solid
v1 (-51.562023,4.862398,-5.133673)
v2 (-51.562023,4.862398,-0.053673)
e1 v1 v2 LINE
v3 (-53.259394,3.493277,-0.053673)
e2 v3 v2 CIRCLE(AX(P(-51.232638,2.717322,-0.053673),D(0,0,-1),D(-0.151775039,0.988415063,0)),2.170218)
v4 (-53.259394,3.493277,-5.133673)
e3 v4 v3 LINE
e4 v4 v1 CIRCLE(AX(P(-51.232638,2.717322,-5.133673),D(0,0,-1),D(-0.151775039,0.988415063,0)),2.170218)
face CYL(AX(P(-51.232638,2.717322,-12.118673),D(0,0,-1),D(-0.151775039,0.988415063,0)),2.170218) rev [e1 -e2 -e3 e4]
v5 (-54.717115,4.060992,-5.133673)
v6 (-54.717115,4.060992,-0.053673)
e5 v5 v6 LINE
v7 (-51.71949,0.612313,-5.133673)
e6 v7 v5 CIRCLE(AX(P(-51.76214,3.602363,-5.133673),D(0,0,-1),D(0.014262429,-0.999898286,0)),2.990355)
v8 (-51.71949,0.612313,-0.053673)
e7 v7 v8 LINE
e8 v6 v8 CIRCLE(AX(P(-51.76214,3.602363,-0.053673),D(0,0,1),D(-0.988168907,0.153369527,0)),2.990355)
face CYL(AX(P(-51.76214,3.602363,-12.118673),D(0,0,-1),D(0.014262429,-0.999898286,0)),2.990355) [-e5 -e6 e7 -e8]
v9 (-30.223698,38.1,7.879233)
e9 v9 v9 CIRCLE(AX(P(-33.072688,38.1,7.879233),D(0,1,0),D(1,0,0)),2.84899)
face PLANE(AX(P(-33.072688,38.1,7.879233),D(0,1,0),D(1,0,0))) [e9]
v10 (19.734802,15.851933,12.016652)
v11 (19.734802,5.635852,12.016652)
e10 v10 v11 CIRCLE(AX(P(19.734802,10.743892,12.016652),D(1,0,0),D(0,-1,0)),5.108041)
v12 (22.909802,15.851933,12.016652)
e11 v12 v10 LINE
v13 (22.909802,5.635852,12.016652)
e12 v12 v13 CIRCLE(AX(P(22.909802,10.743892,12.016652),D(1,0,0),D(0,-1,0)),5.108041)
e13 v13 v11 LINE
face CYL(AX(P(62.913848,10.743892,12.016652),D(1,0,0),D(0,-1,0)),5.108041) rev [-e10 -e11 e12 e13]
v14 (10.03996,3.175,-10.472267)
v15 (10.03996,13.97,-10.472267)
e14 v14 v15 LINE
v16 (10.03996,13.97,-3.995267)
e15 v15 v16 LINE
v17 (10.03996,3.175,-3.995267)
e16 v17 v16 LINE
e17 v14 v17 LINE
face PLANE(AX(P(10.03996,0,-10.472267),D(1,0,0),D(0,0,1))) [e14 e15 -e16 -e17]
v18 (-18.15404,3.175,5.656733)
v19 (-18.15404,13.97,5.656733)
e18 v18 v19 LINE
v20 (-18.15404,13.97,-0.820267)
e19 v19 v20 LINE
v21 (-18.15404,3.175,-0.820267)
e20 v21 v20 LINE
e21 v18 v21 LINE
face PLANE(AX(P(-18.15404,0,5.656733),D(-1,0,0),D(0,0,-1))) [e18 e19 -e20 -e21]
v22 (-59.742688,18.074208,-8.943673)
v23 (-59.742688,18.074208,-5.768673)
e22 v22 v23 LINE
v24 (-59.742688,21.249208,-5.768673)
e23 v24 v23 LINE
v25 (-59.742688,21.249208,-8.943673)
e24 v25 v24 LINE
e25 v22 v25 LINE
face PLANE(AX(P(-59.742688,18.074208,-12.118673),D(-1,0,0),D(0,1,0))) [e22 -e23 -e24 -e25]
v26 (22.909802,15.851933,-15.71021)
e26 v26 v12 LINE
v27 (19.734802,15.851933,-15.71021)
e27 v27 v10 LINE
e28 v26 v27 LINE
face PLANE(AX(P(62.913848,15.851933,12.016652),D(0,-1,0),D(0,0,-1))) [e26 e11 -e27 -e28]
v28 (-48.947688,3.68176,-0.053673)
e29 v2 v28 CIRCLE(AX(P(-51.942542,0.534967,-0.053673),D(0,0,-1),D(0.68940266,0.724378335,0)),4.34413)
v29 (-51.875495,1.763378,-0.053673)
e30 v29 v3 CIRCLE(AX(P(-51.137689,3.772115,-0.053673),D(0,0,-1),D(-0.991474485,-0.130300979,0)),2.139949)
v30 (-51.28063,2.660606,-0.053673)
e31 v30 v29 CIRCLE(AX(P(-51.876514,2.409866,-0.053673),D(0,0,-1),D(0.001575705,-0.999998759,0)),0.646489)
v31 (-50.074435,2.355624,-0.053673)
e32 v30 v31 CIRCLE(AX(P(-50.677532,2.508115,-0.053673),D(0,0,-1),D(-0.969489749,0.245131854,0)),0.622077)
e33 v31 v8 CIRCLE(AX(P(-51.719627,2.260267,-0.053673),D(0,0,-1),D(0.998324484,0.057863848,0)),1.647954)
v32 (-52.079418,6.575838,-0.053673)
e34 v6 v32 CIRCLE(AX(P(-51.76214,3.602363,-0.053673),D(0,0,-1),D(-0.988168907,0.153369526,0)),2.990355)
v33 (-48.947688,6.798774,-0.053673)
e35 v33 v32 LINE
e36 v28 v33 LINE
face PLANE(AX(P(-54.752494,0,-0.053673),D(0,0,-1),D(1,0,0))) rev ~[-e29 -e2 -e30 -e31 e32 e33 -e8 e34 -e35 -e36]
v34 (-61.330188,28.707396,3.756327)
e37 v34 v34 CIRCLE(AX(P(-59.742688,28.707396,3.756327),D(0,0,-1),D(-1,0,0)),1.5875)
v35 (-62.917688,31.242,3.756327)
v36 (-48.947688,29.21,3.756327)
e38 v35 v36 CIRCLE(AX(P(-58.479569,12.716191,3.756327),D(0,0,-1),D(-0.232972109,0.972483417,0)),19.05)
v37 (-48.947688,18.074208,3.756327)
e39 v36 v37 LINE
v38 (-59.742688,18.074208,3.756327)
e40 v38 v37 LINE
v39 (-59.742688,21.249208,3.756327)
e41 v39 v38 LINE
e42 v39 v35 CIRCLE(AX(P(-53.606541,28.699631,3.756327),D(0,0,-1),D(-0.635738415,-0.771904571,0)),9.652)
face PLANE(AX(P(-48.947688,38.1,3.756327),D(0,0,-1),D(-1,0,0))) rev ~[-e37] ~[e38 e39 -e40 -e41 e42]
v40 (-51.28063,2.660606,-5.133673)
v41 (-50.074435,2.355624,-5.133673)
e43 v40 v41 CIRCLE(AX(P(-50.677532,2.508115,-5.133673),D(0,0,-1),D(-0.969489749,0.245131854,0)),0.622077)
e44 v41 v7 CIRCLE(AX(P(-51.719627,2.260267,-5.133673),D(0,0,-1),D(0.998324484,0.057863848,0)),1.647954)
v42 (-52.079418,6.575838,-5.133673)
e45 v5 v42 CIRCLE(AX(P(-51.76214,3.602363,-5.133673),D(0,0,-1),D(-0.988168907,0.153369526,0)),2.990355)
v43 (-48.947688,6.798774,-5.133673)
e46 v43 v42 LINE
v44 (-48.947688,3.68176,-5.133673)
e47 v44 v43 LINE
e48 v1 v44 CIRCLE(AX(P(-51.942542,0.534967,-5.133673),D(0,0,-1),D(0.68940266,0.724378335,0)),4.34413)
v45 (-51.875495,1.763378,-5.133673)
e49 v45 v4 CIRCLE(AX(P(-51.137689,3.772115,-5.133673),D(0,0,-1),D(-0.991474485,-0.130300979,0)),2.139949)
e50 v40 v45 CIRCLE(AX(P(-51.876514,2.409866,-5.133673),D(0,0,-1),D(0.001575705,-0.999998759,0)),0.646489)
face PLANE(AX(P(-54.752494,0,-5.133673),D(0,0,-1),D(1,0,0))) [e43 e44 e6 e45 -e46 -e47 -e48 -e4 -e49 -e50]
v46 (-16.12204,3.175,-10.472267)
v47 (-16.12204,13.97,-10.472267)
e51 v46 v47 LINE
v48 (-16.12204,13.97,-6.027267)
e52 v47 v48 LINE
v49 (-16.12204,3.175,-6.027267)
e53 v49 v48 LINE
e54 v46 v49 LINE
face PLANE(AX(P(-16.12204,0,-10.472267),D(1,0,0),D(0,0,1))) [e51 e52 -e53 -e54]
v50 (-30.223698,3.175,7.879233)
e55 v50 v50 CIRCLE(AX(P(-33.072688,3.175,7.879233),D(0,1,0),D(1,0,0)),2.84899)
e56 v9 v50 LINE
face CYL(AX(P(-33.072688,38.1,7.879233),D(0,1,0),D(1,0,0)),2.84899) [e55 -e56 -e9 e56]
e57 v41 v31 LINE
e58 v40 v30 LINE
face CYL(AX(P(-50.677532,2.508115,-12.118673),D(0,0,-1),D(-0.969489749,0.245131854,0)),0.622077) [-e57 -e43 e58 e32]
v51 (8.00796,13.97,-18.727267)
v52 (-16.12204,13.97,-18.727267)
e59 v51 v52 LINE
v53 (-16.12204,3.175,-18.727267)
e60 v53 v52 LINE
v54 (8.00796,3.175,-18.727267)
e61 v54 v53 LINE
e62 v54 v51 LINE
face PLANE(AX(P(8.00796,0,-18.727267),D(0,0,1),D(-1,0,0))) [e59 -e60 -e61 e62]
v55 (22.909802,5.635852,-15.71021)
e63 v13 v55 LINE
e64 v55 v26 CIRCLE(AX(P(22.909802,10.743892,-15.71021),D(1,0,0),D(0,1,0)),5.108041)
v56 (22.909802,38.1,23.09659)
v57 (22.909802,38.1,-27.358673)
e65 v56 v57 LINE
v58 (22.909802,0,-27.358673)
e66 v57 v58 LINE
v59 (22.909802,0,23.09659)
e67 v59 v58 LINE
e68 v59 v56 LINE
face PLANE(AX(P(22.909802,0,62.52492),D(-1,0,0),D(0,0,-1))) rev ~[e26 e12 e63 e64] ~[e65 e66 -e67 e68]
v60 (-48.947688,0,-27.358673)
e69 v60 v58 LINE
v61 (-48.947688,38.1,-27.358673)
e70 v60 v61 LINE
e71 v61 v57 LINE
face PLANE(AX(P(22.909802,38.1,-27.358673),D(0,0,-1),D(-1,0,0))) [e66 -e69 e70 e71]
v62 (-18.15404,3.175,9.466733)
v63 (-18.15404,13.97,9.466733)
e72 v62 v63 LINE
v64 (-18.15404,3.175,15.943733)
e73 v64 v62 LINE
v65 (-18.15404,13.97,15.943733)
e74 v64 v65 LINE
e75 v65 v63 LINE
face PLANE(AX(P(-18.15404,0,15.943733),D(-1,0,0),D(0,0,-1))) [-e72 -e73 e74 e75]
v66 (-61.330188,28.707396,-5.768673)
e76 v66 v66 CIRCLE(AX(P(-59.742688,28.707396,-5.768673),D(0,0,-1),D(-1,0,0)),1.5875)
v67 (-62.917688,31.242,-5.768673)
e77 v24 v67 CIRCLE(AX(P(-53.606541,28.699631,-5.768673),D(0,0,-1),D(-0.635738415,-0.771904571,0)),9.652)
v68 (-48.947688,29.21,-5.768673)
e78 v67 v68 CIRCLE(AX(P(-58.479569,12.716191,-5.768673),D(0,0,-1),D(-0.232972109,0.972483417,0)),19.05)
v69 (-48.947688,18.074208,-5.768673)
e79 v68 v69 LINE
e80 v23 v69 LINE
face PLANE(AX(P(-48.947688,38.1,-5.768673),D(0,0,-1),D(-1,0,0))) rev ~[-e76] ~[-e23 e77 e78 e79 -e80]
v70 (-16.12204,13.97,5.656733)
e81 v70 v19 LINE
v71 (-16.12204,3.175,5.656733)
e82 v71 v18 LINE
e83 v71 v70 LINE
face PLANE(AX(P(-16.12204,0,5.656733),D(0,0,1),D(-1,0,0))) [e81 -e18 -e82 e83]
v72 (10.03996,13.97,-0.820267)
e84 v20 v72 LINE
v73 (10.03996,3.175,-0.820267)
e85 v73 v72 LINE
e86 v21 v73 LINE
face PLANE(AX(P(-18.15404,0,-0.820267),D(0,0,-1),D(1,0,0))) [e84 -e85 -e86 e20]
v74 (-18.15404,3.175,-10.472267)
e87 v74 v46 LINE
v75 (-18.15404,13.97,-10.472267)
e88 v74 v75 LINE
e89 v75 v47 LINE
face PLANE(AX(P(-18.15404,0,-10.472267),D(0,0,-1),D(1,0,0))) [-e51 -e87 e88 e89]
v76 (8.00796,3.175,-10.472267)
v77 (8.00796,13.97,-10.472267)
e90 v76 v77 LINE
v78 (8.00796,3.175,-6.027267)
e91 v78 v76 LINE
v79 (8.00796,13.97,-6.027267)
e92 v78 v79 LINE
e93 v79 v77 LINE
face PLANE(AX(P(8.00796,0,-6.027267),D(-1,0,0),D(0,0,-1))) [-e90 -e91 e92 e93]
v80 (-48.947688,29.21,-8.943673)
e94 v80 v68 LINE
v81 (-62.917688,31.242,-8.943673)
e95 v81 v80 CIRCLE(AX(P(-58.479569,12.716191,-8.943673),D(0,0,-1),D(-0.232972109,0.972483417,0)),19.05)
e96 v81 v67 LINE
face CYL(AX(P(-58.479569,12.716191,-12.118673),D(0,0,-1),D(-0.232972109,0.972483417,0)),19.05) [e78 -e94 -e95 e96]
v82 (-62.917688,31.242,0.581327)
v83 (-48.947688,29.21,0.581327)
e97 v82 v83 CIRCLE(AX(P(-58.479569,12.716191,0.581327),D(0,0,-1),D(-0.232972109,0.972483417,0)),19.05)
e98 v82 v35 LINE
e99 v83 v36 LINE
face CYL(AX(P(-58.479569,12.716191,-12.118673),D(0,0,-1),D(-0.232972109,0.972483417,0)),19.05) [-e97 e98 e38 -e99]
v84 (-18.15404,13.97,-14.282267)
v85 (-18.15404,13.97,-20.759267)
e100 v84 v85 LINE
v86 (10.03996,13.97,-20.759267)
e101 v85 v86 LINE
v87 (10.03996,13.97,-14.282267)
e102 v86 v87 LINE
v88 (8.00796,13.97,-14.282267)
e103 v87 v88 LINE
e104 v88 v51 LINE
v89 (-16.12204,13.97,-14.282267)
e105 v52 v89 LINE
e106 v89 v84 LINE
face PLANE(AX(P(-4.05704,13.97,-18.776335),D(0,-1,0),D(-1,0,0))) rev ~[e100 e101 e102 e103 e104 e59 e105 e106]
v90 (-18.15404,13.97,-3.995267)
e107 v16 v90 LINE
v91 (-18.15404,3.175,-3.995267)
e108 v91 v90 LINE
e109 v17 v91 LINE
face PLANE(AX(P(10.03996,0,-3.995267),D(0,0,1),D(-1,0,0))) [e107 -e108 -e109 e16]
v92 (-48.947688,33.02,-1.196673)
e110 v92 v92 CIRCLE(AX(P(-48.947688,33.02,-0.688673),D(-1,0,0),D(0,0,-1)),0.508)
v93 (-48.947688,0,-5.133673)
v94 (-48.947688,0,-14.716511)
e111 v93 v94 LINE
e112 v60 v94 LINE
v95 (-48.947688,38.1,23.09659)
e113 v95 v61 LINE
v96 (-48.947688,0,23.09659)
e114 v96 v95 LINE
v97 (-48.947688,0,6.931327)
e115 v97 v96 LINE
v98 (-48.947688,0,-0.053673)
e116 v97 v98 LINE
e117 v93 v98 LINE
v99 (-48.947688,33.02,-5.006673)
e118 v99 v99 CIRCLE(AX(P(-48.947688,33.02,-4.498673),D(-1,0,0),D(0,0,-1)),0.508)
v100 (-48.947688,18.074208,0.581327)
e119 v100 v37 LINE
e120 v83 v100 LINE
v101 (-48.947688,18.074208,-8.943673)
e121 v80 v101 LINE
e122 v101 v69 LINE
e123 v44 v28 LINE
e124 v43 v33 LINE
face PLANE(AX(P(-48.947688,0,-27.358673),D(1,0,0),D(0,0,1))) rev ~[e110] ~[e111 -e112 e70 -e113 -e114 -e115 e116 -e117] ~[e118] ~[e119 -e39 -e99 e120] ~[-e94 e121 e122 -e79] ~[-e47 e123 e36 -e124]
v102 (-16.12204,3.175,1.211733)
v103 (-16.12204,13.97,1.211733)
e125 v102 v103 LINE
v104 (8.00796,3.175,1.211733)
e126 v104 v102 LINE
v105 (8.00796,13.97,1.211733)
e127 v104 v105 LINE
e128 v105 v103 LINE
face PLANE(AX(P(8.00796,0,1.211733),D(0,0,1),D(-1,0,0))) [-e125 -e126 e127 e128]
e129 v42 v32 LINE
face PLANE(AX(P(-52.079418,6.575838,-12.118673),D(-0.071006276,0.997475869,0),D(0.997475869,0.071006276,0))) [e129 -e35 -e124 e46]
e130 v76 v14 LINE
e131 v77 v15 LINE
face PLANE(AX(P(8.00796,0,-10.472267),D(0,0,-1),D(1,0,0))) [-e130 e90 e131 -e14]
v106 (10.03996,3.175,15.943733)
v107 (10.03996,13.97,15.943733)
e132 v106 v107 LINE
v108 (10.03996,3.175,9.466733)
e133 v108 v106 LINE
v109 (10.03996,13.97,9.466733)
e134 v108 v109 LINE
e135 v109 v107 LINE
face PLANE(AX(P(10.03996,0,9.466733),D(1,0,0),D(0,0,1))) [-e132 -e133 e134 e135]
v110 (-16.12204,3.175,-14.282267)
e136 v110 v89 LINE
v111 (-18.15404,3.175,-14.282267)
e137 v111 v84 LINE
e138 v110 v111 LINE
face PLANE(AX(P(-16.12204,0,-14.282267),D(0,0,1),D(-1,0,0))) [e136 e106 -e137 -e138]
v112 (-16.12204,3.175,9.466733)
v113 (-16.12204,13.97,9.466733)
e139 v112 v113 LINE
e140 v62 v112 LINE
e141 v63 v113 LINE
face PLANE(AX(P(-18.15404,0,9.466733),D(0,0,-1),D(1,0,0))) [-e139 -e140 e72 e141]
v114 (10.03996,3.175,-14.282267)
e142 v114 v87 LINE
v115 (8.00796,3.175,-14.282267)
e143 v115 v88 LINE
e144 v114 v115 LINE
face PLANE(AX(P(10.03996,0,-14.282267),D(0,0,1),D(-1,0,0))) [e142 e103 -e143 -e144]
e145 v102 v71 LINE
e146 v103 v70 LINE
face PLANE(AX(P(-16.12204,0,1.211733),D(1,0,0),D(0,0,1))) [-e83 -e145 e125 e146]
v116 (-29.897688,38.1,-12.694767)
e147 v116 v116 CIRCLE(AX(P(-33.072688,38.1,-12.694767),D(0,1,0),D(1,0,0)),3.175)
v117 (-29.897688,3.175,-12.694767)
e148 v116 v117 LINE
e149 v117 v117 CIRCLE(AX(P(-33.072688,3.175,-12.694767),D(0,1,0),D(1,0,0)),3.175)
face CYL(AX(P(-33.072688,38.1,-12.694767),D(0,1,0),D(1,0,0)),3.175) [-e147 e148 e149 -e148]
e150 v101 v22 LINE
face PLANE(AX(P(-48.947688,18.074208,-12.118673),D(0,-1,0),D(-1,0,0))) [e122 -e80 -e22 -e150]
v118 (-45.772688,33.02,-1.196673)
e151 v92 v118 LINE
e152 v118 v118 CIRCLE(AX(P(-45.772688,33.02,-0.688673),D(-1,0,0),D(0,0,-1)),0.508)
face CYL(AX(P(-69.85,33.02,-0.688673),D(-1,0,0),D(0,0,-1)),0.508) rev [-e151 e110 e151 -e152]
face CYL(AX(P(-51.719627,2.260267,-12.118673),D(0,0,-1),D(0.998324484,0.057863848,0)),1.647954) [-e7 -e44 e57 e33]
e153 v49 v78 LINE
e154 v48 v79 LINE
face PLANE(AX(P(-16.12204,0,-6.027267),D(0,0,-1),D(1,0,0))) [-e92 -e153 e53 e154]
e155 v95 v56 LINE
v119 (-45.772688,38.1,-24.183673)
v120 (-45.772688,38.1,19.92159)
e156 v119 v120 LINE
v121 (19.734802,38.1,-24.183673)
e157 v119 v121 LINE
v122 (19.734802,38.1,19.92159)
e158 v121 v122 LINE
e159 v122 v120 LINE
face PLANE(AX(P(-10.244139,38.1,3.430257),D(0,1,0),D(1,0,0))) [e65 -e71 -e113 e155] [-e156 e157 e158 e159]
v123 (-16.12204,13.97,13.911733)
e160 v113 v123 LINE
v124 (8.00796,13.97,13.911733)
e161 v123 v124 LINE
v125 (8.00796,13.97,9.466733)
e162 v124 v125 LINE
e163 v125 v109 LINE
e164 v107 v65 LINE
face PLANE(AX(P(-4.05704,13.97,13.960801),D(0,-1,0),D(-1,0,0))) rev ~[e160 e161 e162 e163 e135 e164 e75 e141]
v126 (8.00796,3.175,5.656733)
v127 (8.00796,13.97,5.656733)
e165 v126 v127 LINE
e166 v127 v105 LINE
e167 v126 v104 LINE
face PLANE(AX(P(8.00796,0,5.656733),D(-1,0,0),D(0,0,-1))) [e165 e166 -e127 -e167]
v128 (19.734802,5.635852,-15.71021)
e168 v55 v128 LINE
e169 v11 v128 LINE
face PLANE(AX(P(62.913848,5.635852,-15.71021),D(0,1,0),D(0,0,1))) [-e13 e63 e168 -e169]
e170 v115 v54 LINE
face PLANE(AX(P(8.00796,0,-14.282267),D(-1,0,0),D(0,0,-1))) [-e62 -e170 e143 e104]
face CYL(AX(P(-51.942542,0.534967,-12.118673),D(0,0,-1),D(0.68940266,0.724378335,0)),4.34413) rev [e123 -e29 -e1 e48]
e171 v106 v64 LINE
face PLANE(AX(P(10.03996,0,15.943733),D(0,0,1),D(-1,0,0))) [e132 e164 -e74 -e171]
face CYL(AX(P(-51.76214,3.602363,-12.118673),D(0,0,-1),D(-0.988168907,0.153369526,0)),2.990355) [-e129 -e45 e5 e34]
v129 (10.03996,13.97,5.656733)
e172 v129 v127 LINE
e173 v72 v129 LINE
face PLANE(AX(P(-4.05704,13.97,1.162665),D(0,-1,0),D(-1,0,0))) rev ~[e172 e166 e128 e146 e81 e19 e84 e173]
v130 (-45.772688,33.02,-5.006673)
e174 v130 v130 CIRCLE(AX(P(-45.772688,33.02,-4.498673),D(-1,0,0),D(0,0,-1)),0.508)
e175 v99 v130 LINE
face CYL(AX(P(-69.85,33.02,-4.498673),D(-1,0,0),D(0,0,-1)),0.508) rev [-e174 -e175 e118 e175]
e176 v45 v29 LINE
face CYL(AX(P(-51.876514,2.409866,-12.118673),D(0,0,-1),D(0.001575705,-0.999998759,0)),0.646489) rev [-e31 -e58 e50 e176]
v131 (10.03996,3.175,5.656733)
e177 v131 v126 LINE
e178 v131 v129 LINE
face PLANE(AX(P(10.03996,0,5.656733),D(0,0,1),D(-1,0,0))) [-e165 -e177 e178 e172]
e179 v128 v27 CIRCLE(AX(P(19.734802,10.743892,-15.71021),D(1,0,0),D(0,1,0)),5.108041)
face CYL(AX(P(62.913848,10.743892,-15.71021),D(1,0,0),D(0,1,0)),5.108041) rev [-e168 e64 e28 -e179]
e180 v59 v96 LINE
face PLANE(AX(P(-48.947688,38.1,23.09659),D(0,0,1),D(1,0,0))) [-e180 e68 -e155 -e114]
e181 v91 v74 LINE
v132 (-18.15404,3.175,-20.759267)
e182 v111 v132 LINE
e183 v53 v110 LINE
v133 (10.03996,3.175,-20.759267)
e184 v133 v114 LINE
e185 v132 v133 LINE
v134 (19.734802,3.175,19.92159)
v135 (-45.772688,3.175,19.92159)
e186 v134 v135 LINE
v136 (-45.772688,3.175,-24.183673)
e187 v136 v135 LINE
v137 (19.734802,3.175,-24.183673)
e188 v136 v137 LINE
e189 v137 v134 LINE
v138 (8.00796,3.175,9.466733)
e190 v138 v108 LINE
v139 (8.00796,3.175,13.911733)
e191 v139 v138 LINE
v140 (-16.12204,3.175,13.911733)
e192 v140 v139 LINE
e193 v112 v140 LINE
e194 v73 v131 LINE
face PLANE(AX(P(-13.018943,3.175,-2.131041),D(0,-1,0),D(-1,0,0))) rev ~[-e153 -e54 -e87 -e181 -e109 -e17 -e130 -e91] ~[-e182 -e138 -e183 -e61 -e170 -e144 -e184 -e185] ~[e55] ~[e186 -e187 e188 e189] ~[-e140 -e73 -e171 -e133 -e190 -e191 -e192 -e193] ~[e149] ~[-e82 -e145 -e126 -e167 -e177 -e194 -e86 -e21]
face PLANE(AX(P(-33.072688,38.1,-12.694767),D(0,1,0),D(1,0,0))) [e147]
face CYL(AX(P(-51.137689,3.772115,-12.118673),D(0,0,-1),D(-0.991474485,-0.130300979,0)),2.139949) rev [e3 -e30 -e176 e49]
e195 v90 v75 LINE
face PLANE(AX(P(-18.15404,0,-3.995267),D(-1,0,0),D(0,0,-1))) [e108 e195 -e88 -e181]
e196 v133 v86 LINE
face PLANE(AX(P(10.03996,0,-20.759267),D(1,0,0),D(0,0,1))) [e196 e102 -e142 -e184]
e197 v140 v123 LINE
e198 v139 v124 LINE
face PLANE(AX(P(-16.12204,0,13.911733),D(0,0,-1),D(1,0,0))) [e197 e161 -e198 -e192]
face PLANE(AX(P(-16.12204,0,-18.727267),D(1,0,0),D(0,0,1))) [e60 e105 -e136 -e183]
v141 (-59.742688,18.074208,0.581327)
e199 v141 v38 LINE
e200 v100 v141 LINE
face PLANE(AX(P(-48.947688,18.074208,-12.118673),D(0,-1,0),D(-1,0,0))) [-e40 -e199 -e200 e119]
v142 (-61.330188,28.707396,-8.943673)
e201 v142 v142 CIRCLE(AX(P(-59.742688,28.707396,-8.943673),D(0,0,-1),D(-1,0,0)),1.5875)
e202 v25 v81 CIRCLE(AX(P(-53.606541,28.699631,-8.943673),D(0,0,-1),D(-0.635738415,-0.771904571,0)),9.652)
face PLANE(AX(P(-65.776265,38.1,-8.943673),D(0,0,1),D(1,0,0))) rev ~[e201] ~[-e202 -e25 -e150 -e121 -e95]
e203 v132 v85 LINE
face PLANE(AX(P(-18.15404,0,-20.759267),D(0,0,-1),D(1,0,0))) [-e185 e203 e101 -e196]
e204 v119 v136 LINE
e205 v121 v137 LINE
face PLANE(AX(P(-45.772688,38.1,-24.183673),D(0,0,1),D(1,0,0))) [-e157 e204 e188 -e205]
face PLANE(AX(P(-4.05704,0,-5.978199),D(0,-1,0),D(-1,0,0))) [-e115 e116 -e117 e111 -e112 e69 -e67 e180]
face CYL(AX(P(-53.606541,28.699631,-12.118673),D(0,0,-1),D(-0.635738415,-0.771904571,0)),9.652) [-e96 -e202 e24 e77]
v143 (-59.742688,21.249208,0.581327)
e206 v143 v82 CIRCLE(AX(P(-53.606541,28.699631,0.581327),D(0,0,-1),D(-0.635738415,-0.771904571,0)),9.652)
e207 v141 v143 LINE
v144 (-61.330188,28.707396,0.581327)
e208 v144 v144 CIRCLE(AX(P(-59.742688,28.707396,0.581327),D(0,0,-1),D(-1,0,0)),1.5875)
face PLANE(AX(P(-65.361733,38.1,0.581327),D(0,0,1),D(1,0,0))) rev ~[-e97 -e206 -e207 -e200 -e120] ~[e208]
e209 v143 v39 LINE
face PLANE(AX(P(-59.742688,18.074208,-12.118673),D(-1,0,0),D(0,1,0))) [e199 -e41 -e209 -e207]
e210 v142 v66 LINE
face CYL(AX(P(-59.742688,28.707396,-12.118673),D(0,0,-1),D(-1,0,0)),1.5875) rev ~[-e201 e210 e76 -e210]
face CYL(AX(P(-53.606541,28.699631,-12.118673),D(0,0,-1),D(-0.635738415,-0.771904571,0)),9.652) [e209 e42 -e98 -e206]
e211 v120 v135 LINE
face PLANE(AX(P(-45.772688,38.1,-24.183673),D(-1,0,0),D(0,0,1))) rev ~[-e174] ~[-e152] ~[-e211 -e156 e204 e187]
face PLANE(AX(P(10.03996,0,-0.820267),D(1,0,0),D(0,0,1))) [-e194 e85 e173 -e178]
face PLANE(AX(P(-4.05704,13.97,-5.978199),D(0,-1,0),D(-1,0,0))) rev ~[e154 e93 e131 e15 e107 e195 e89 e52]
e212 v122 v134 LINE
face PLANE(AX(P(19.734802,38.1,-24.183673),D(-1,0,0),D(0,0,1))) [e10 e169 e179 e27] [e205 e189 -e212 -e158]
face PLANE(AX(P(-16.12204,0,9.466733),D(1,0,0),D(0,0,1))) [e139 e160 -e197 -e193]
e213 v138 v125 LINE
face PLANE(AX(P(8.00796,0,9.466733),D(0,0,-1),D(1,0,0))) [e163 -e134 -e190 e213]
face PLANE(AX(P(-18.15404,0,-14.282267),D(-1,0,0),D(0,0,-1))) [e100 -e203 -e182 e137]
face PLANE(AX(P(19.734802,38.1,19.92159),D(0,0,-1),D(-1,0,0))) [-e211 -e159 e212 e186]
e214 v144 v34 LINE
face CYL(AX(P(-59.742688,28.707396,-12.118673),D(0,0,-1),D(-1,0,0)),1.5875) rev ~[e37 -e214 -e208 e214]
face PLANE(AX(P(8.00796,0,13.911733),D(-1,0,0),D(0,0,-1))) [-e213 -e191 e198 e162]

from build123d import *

# Parameters (mm, degrees)
BOSS_EXTRUDE1_DEPTH     = 38.1
CUT_EXTRUDE1_DEPTH      = 34.925
SERVO_BOX_1_DEPTH       = 13.97
SERVO_BOX_2_DEPTH       = 13.97
SKETCH36_R              = 1.5875
RING_ATTACHMENT_DEPTH   = 19.05
ATTACHMENT_TRIM_DEPTH   = 25.4
SKETCH33_R              = 0.508
RING_FINGER_HOLES_DEPTH = 31.75
CORD_HOLE_DEPTH         = 44.45
RING_HOOK_DEPTH         = 19.05
MIDDLE_HOOK_DEPTH       = 19.05
MIDDLE_HOOK_2_DEPTH     = 19.05
SKETCH57_W              = 6.44385504
SKETCH57_H              = 7.30367128
MIDDLE_HOOK_CUT_1_DEPTH = 19.05
SKETCH65_W              = 5.804806401
SKETCH65_H              = 9.582838289
SKETCH65_H_2            = 6.985
SKETCH65_W_2            = 10.36865681
SKETCH65_H_3            = 26.914043033
CUT_EXTRUDE9_DEPTH      = 15.24
CUT_EXTRUDE10_DEPTH     = 50.8
SKETCH67_R              = 2.848989685
SKETCH67_R_2            = 3.175
BOSS_EXTRUDE2_DEPTH     = 38.1


with BuildPart() as part:
    # Sketch2 → Boss-Extrude1 (new body)
    with BuildSketch(Plane(origin=(0, 0, 0), x_dir=(1, 0, 0), z_dir=(0, 1, 0))):
        with BuildLine():
            Line((-20.778406205, 52.758673202), (-36.188953289, 52.758673202))
            Line((-36.188953289, 52.758673202), (-36.188953289, 33.708673202))
            Line((-36.188953289, 33.708673202), (-38.864171838, 27.358673202))
            Line((-38.864171838, 27.358673202), (-48.947687906, 27.358673202))
            Line((-48.947687906, 27.358673202), (-48.947687906, 8.308673202))
            Line((-48.947687906, 8.308673202), (-48.947687906, -42.491326798))
            Line((-48.947687906, -42.491326798), (-42.959403849, -42.491326798))
            ThreePointArc((-42.959403849, -42.491326798), (-29.448791922, -45.239401215), (-16.422067996, -49.755263412))
            ThreePointArc((-16.422067996, -49.755263412), (-10.441569813, -54.6928899), (-3.738179712, -58.593027718))
            Line((-3.738179712, -58.593027718), (-3.738179712, -63.210333869))
            Line((-3.738179712, -63.210333869), (15.311820288, -63.210333869))
            ThreePointArc((15.311820288, -63.210333869), (19.123708761, -63.010602415), (22.909801598, -62.524919994))
            Line((22.909801598, -62.524919994), (22.909801598, 48.896004027))
            ThreePointArc((22.909801598, 48.896004027), (1.17082788, 52.016399628), (-20.778406205, 52.758673202))
        make_face()
    extrude(amount=BOSS_EXTRUDE1_DEPTH)

    # Sketch3 → Cut-Extrude1 (cut)
    with BuildSketch(Plane(origin=(0, 38.1, 0), x_dir=(1, 0, 0), z_dir=(0, 1, 0))):
        Polygon((-45.772687906, 24.183673202), (19.734801598, 24.183673202), (19.734801598, -19.921590233), (-45.772687906, -19.921590233), (-45.772687906, 7.713042295), align=None)
        with BuildLine():
            Line((-38.864171838, 27.358673202), (22.909801598, 27.358673202))
            ThreePointArc((22.909801598, 27.358673202), (-7.97718512, 133.680362497), (-38.864171838, 27.358673202))
        make_face()
        with BuildLine():
            Line((-48.947687906, -23.096590233), (22.909801598, -23.096590233))
            ThreePointArc((22.909801598, -23.096590233), (35.616611998, -147.942668358), (-48.947687906, -55.22327753))
            Line((-48.947687906, -55.22327753), (-48.947687906, -23.096590233))
        make_face()
    extrude(amount=-CUT_EXTRUDE1_DEPTH, mode=Mode.SUBTRACT)

    # Sketch6 → Servo Box 1 (add)
    with BuildSketch(Plane(origin=(0, 0, 0), x_dir=(1, 0, 0), z_dir=(0, 1, 0))):
        Polygon((-18.154039747, -9.466732857), (-16.122039747, -9.466732857), (-16.122039747, -13.911732857), (8.007960253, -13.911732857), (8.007960253, -9.466732857), (10.039960253, -9.466732857), (10.039960253, -15.943732857), (-18.154039747, -15.943732857), align=None)
        Polygon((8.007960253, -1.211732857), (-16.122039747, -1.211732857), (-16.122039747, -5.656732857), (-18.154039747, -5.656732857), (-18.154039747, 0.820267143), (10.039960253, 0.820267143), (10.039960253, -5.656732857), (8.007960253, -5.656732857), align=None)
    extrude(amount=SERVO_BOX_1_DEPTH)

    # Sketch7 → Servo Box 2 (add)
    with BuildSketch(Plane(origin=(0, 0, 0), x_dir=(1, 0, 0), z_dir=(0, 1, 0))):
        Polygon((-18.154039747, 10.472267143), (-16.122039747, 10.472267143), (-16.122039747, 6.027267143), (8.007960253, 6.027267143), (8.007960253, 10.472267143), (10.039960253, 10.472267143), (10.039960253, 3.995267143), (-18.154039747, 3.995267143), align=None)
        Polygon((8.007960253, 18.727267143), (-16.122039747, 18.727267143), (-16.122039747, 14.282267143), (-18.154039747, 14.282267143), (-18.154039747, 20.759267143), (10.039960253, 20.759267143), (10.039960253, 14.282267143), (8.007960253, 14.282267143), align=None)
    extrude(amount=SERVO_BOX_2_DEPTH)

    # Sketch36 → Ring Attachment (add)
    with BuildSketch(Plane(origin=(0, 0, -12.118673202), x_dir=(-1, 0, 0), z_dir=(0, 0, -1))):
        with BuildLine():
            Line((48.947687906, 29.21), (48.947687906, 18.074207691))
            Line((48.947687906, 18.074207691), (53.392687906, 18.074207691))
            Line((53.392687906, 18.074207691), (59.742687906, 18.074207691))
            Line((59.742687906, 18.074207691), (59.742687906, 21.249207691))
            ThreePointArc((59.742687906, 21.249207691), (62.80538306, 25.776891551), (62.917687906, 31.242))
            ThreePointArc((62.917687906, 31.242), (55.737515168, 31.567812574), (48.947687906, 29.21))
        make_face()
        with Locations((59.742687906, 28.707395517)):
            Circle(SKETCH36_R, mode=Mode.SUBTRACT)
    extrude(amount=-RING_ATTACHMENT_DEPTH)

    # Sketch40 → Attachment Trim (cut)
    with BuildSketch(Plane(origin=(0, 38.1, 0), x_dir=(1, 0, 0), z_dir=(0, 1, 0))):
        with BuildLine():
            Line((-48.947687906, -6.931326798), (-48.947687906, -3.756326798))
            Line((-48.947687906, -3.756326798), (-65.361733155, -3.756326798))
            Line((-65.361733155, -3.756326798), (-65.361733155, -0.581326798))
            Line((-65.361733155, -0.581326798), (-48.947687906, -0.581326798))
            Line((-48.947687906, -0.581326798), (-48.947687906, 5.768673202))
            Line((-48.947687906, 5.768673202), (-65.776264763, 5.768673202))
            Line((-65.776264763, 5.768673202), (-65.776264763, 8.943673202))
            Line((-65.776264763, 8.943673202), (-48.947687906, 8.943673202))
            Line((-48.947687906, 8.943673202), (-48.947687906, 12.118673202))
            ThreePointArc((-48.947687906, 12.118673202), (-80.34840255, 2.593673202), (-48.947687906, -6.931326798))
        make_face()
    extrude(amount=-ATTACHMENT_TRIM_DEPTH, mode=Mode.SUBTRACT)

    # Sketch33 → Ring Finger Holes (cut)
    with BuildSketch(Plane(origin=(-69.85, 0, 0), x_dir=(0, 0, -1), z_dir=(1, 0, 0))):
        with Locations((0.688673202, 33.02)):
            Circle(SKETCH33_R)
        with Locations((4.498673202, 33.02)):
            Circle(SKETCH33_R)
    extrude(amount=RING_FINGER_HOLES_DEPTH, mode=Mode.SUBTRACT)

    # Sketch41 → Cord Hole (cut)
    with BuildSketch(Plane(origin=(62.913848002, 0, 0), x_dir=(0, 0, -1), z_dir=(1, 0, 0))):
        with BuildLine():
            Line((-12.016652412, 15.851932983), (15.710210154, 15.851932983))
            ThreePointArc((15.710210154, 15.851932983), (20.818250673, 10.743892464), (15.710210154, 5.635851946))
            Line((15.710210154, 5.635851946), (-12.016652412, 5.635851946))
            ThreePointArc((-12.016652412, 5.635851946), (-17.12469293, 10.743892464), (-12.016652412, 15.851932983))
        make_face()
    extrude(amount=-CORD_HOLE_DEPTH, mode=Mode.SUBTRACT)

    # Sketch52 → Ring Hook (add)
    with BuildSketch(Plane(origin=(0, 0, -12.118673202), x_dir=(-1, 0, 0), z_dir=(0, 0, -1))):
        with BuildLine():
            Line((52.079417812, 6.575838366), (48.947687906, 6.798773562))
            Line((48.947687906, 6.798773562), (48.947687906, 3.681759929))
            ThreePointArc((48.947687906, 3.681759929), (50.154592803, 4.494095024), (51.56202319, 4.862398487))
            ThreePointArc((51.56202319, 4.862398487), (52.595162873, 4.406515303), (53.259394348, 3.493277311))
            ThreePointArc((53.259394348, 3.493277311), (52.80871858, 2.435311228), (51.875495098, 1.763377592))
            ThreePointArc((51.875495098, 1.763377592), (51.337693114, 2.052625855), (51.280629769, 2.660605548))
            ThreePointArc((51.280629769, 2.660605548), (50.525041175, 3.111212192), (50.07443453, 2.355623598))
            ThreePointArc((50.07443453, 2.355623598), (50.521061084, 1.129253272), (51.719490009, 0.612312688))
            ThreePointArc((51.719490009, 0.612312688), (54.01907529, 1.640613281), (54.717115143, 4.060992371))
            ThreePointArc((54.717115143, 4.060992371), (53.825637568, 5.766663725), (52.079417812, 6.575838366))
        make_face()
    extrude(amount=-RING_HOOK_DEPTH)


with BuildPart() as body_2:
    # Sketch56 → Middle Hook (new body)
    with BuildSketch(Plane(origin=(0, 0, 13.281326798), x_dir=(-1, 0, 0), z_dir=(0, 0, -1))):
        with BuildLine():
            Line((59.307557511, 8.89), (56.767557511, 8.89))
            Line((56.767557511, 8.89), (56.767557511, 12.007013633))
            ThreePointArc((56.767557511, 12.007013633), (57.832492224, 10.713868099), (59.307557511, 9.919831756))
            ThreePointArc((59.307557511, 9.919831756), (60.589681431, 10.520271405), (61.228710278, 11.783604952))
            ThreePointArc((61.228710278, 11.783604952), (60.623886944, 13.07409489), (59.342790307, 13.69856823))
            ThreePointArc((59.342790307, 13.69856823), (58.957508965, 13.481176717), (58.80220943, 13.066951131))
            ThreePointArc((58.80220943, 13.066951131), (58.461789356, 12.706641867), (58.101480093, 13.047061941))
            ThreePointArc((58.101480093, 13.047061941), (58.440138088, 13.935120258), (59.307557511, 14.323604952))
            ThreePointArc((59.307557511, 14.323604952), (61.228626965, 13.52787193), (62.024359987, 11.606802476))
            ThreePointArc((62.024359987, 11.606802476), (61.228626965, 9.685733022), (59.307557511, 8.89))
        make_face()
    extrude(amount=-MIDDLE_HOOK_DEPTH)

    # Sketch57 → Middle Hook Cut 1 (cut)
    with BuildSketch(Plane(origin=(0, 0, 13.281326798), x_dir=(-1, 0, 0), z_dir=(0, 0, -1))):
        with Locations((59.989485031, 11.404925675)):
            Rectangle(SKETCH57_W, SKETCH57_H)
    extrude(amount=-MIDDLE_HOOK_CUT_1_DEPTH, mode=Mode.SUBTRACT)


with BuildPart() as body_3:
    # Sketch56 → Middle Hook 2 (new body)
    with BuildSketch(Plane(origin=(0, 0, 13.281326798), x_dir=(-1, 0, 0), z_dir=(0, 0, -1))):
        with BuildLine():
            Line((59.307557511, 6.798773562), (56.767557511, 6.798773562))
            Line((56.767557511, 6.798773562), (56.767557511, 3.681759929))
            ThreePointArc((56.767557511, 3.681759929), (57.832492224, 4.974905464), (59.307557511, 5.768941806))
            ThreePointArc((59.307557511, 5.768941806), (60.589681431, 5.168502157), (61.228710278, 3.905168611))
            ThreePointArc((61.228710278, 3.905168611), (60.623886944, 2.614678673), (59.342790307, 1.990205333))
            ThreePointArc((59.342790307, 1.990205333), (58.957508965, 2.207596845), (58.80220943, 2.621822432))
            ThreePointArc((58.80220943, 2.621822432), (58.461789356, 2.982131695), (58.101480093, 2.641711621))
            ThreePointArc((58.101480093, 2.641711621), (58.440138088, 1.753653304), (59.307557511, 1.365168611))
            ThreePointArc((59.307557511, 1.365168611), (61.228626965, 2.160901633), (62.024359987, 4.081971086))
            ThreePointArc((62.024359987, 4.081971086), (61.228626965, 6.00304054), (59.307557511, 6.798773562))
        make_face()
    extrude(amount=-MIDDLE_HOOK_2_DEPTH)


with BuildPart() as cut_extrude9_tool:
    # Sketch65 → Cut-Extrude9 (new body)
    with BuildSketch(Plane(origin=(0, 0, 0), x_dir=(1, 0, 0), z_dir=(0, 1, 0))):
        with Locations((-51.850091107, 9.925092347)):
            Rectangle(SKETCH65_W, SKETCH65_H)
        with Locations((-51.850091107, -3.438826798)):
            Rectangle(SKETCH65_W, SKETCH65_H_2)
        with Locations((-59.388818787, -23.035181565)):
            Rectangle(SKETCH65_W_2, SKETCH65_H_3)
    extrude(amount=CUT_EXTRUDE9_DEPTH)


with BuildPart() as part_1:
    add(part.part)

    # Cut-Extrude9: cut by cut_extrude9_tool
    add(cut_extrude9_tool.part, mode=Mode.SUBTRACT)

    # Sketch66 → Cut-Extrude10 (cut)
    with BuildSketch(Plane(origin=(0, 38.1, 0), x_dir=(1, 0, 0), z_dir=(0, 1, 0))):
        with BuildLine():
            Line((-48.947687906, -23.096590233), (22.909801598, -23.096590233))
            ThreePointArc((22.909801598, -23.096590233), (-13.018943154, -212.453183119), (-48.947687906, -23.096590233))
        make_face()
        with BuildLine():
            Line((22.909801598, 27.358673202), (-48.947687906, 27.358673202))
            ThreePointArc((-48.947687906, 27.358673202), (-13.018943154, 126.14838829), (22.909801598, 27.358673202))
        make_face()
    extrude(amount=-CUT_EXTRUDE10_DEPTH, mode=Mode.SUBTRACT)

    # Sketch67 → Boss-Extrude2 (add)
    with BuildSketch(Plane(origin=(0, 38.1, 0), x_dir=(1, 0, 0), z_dir=(0, 1, 0))):
        with Locations((-33.072687906, -7.879232857)):
            Circle(SKETCH67_R)
        with Locations((-33.072687906, 12.694767143)):
            Circle(SKETCH67_R_2)
    extrude(amount=-BOSS_EXTRUDE2_DEPTH)


with BuildPart() as body_3_1:
    add(body_3.part)

    # Cut-Extrude9: cut by cut_extrude9_tool
    add(cut_extrude9_tool.part, mode=Mode.SUBTRACT)


solid = part_1.part
